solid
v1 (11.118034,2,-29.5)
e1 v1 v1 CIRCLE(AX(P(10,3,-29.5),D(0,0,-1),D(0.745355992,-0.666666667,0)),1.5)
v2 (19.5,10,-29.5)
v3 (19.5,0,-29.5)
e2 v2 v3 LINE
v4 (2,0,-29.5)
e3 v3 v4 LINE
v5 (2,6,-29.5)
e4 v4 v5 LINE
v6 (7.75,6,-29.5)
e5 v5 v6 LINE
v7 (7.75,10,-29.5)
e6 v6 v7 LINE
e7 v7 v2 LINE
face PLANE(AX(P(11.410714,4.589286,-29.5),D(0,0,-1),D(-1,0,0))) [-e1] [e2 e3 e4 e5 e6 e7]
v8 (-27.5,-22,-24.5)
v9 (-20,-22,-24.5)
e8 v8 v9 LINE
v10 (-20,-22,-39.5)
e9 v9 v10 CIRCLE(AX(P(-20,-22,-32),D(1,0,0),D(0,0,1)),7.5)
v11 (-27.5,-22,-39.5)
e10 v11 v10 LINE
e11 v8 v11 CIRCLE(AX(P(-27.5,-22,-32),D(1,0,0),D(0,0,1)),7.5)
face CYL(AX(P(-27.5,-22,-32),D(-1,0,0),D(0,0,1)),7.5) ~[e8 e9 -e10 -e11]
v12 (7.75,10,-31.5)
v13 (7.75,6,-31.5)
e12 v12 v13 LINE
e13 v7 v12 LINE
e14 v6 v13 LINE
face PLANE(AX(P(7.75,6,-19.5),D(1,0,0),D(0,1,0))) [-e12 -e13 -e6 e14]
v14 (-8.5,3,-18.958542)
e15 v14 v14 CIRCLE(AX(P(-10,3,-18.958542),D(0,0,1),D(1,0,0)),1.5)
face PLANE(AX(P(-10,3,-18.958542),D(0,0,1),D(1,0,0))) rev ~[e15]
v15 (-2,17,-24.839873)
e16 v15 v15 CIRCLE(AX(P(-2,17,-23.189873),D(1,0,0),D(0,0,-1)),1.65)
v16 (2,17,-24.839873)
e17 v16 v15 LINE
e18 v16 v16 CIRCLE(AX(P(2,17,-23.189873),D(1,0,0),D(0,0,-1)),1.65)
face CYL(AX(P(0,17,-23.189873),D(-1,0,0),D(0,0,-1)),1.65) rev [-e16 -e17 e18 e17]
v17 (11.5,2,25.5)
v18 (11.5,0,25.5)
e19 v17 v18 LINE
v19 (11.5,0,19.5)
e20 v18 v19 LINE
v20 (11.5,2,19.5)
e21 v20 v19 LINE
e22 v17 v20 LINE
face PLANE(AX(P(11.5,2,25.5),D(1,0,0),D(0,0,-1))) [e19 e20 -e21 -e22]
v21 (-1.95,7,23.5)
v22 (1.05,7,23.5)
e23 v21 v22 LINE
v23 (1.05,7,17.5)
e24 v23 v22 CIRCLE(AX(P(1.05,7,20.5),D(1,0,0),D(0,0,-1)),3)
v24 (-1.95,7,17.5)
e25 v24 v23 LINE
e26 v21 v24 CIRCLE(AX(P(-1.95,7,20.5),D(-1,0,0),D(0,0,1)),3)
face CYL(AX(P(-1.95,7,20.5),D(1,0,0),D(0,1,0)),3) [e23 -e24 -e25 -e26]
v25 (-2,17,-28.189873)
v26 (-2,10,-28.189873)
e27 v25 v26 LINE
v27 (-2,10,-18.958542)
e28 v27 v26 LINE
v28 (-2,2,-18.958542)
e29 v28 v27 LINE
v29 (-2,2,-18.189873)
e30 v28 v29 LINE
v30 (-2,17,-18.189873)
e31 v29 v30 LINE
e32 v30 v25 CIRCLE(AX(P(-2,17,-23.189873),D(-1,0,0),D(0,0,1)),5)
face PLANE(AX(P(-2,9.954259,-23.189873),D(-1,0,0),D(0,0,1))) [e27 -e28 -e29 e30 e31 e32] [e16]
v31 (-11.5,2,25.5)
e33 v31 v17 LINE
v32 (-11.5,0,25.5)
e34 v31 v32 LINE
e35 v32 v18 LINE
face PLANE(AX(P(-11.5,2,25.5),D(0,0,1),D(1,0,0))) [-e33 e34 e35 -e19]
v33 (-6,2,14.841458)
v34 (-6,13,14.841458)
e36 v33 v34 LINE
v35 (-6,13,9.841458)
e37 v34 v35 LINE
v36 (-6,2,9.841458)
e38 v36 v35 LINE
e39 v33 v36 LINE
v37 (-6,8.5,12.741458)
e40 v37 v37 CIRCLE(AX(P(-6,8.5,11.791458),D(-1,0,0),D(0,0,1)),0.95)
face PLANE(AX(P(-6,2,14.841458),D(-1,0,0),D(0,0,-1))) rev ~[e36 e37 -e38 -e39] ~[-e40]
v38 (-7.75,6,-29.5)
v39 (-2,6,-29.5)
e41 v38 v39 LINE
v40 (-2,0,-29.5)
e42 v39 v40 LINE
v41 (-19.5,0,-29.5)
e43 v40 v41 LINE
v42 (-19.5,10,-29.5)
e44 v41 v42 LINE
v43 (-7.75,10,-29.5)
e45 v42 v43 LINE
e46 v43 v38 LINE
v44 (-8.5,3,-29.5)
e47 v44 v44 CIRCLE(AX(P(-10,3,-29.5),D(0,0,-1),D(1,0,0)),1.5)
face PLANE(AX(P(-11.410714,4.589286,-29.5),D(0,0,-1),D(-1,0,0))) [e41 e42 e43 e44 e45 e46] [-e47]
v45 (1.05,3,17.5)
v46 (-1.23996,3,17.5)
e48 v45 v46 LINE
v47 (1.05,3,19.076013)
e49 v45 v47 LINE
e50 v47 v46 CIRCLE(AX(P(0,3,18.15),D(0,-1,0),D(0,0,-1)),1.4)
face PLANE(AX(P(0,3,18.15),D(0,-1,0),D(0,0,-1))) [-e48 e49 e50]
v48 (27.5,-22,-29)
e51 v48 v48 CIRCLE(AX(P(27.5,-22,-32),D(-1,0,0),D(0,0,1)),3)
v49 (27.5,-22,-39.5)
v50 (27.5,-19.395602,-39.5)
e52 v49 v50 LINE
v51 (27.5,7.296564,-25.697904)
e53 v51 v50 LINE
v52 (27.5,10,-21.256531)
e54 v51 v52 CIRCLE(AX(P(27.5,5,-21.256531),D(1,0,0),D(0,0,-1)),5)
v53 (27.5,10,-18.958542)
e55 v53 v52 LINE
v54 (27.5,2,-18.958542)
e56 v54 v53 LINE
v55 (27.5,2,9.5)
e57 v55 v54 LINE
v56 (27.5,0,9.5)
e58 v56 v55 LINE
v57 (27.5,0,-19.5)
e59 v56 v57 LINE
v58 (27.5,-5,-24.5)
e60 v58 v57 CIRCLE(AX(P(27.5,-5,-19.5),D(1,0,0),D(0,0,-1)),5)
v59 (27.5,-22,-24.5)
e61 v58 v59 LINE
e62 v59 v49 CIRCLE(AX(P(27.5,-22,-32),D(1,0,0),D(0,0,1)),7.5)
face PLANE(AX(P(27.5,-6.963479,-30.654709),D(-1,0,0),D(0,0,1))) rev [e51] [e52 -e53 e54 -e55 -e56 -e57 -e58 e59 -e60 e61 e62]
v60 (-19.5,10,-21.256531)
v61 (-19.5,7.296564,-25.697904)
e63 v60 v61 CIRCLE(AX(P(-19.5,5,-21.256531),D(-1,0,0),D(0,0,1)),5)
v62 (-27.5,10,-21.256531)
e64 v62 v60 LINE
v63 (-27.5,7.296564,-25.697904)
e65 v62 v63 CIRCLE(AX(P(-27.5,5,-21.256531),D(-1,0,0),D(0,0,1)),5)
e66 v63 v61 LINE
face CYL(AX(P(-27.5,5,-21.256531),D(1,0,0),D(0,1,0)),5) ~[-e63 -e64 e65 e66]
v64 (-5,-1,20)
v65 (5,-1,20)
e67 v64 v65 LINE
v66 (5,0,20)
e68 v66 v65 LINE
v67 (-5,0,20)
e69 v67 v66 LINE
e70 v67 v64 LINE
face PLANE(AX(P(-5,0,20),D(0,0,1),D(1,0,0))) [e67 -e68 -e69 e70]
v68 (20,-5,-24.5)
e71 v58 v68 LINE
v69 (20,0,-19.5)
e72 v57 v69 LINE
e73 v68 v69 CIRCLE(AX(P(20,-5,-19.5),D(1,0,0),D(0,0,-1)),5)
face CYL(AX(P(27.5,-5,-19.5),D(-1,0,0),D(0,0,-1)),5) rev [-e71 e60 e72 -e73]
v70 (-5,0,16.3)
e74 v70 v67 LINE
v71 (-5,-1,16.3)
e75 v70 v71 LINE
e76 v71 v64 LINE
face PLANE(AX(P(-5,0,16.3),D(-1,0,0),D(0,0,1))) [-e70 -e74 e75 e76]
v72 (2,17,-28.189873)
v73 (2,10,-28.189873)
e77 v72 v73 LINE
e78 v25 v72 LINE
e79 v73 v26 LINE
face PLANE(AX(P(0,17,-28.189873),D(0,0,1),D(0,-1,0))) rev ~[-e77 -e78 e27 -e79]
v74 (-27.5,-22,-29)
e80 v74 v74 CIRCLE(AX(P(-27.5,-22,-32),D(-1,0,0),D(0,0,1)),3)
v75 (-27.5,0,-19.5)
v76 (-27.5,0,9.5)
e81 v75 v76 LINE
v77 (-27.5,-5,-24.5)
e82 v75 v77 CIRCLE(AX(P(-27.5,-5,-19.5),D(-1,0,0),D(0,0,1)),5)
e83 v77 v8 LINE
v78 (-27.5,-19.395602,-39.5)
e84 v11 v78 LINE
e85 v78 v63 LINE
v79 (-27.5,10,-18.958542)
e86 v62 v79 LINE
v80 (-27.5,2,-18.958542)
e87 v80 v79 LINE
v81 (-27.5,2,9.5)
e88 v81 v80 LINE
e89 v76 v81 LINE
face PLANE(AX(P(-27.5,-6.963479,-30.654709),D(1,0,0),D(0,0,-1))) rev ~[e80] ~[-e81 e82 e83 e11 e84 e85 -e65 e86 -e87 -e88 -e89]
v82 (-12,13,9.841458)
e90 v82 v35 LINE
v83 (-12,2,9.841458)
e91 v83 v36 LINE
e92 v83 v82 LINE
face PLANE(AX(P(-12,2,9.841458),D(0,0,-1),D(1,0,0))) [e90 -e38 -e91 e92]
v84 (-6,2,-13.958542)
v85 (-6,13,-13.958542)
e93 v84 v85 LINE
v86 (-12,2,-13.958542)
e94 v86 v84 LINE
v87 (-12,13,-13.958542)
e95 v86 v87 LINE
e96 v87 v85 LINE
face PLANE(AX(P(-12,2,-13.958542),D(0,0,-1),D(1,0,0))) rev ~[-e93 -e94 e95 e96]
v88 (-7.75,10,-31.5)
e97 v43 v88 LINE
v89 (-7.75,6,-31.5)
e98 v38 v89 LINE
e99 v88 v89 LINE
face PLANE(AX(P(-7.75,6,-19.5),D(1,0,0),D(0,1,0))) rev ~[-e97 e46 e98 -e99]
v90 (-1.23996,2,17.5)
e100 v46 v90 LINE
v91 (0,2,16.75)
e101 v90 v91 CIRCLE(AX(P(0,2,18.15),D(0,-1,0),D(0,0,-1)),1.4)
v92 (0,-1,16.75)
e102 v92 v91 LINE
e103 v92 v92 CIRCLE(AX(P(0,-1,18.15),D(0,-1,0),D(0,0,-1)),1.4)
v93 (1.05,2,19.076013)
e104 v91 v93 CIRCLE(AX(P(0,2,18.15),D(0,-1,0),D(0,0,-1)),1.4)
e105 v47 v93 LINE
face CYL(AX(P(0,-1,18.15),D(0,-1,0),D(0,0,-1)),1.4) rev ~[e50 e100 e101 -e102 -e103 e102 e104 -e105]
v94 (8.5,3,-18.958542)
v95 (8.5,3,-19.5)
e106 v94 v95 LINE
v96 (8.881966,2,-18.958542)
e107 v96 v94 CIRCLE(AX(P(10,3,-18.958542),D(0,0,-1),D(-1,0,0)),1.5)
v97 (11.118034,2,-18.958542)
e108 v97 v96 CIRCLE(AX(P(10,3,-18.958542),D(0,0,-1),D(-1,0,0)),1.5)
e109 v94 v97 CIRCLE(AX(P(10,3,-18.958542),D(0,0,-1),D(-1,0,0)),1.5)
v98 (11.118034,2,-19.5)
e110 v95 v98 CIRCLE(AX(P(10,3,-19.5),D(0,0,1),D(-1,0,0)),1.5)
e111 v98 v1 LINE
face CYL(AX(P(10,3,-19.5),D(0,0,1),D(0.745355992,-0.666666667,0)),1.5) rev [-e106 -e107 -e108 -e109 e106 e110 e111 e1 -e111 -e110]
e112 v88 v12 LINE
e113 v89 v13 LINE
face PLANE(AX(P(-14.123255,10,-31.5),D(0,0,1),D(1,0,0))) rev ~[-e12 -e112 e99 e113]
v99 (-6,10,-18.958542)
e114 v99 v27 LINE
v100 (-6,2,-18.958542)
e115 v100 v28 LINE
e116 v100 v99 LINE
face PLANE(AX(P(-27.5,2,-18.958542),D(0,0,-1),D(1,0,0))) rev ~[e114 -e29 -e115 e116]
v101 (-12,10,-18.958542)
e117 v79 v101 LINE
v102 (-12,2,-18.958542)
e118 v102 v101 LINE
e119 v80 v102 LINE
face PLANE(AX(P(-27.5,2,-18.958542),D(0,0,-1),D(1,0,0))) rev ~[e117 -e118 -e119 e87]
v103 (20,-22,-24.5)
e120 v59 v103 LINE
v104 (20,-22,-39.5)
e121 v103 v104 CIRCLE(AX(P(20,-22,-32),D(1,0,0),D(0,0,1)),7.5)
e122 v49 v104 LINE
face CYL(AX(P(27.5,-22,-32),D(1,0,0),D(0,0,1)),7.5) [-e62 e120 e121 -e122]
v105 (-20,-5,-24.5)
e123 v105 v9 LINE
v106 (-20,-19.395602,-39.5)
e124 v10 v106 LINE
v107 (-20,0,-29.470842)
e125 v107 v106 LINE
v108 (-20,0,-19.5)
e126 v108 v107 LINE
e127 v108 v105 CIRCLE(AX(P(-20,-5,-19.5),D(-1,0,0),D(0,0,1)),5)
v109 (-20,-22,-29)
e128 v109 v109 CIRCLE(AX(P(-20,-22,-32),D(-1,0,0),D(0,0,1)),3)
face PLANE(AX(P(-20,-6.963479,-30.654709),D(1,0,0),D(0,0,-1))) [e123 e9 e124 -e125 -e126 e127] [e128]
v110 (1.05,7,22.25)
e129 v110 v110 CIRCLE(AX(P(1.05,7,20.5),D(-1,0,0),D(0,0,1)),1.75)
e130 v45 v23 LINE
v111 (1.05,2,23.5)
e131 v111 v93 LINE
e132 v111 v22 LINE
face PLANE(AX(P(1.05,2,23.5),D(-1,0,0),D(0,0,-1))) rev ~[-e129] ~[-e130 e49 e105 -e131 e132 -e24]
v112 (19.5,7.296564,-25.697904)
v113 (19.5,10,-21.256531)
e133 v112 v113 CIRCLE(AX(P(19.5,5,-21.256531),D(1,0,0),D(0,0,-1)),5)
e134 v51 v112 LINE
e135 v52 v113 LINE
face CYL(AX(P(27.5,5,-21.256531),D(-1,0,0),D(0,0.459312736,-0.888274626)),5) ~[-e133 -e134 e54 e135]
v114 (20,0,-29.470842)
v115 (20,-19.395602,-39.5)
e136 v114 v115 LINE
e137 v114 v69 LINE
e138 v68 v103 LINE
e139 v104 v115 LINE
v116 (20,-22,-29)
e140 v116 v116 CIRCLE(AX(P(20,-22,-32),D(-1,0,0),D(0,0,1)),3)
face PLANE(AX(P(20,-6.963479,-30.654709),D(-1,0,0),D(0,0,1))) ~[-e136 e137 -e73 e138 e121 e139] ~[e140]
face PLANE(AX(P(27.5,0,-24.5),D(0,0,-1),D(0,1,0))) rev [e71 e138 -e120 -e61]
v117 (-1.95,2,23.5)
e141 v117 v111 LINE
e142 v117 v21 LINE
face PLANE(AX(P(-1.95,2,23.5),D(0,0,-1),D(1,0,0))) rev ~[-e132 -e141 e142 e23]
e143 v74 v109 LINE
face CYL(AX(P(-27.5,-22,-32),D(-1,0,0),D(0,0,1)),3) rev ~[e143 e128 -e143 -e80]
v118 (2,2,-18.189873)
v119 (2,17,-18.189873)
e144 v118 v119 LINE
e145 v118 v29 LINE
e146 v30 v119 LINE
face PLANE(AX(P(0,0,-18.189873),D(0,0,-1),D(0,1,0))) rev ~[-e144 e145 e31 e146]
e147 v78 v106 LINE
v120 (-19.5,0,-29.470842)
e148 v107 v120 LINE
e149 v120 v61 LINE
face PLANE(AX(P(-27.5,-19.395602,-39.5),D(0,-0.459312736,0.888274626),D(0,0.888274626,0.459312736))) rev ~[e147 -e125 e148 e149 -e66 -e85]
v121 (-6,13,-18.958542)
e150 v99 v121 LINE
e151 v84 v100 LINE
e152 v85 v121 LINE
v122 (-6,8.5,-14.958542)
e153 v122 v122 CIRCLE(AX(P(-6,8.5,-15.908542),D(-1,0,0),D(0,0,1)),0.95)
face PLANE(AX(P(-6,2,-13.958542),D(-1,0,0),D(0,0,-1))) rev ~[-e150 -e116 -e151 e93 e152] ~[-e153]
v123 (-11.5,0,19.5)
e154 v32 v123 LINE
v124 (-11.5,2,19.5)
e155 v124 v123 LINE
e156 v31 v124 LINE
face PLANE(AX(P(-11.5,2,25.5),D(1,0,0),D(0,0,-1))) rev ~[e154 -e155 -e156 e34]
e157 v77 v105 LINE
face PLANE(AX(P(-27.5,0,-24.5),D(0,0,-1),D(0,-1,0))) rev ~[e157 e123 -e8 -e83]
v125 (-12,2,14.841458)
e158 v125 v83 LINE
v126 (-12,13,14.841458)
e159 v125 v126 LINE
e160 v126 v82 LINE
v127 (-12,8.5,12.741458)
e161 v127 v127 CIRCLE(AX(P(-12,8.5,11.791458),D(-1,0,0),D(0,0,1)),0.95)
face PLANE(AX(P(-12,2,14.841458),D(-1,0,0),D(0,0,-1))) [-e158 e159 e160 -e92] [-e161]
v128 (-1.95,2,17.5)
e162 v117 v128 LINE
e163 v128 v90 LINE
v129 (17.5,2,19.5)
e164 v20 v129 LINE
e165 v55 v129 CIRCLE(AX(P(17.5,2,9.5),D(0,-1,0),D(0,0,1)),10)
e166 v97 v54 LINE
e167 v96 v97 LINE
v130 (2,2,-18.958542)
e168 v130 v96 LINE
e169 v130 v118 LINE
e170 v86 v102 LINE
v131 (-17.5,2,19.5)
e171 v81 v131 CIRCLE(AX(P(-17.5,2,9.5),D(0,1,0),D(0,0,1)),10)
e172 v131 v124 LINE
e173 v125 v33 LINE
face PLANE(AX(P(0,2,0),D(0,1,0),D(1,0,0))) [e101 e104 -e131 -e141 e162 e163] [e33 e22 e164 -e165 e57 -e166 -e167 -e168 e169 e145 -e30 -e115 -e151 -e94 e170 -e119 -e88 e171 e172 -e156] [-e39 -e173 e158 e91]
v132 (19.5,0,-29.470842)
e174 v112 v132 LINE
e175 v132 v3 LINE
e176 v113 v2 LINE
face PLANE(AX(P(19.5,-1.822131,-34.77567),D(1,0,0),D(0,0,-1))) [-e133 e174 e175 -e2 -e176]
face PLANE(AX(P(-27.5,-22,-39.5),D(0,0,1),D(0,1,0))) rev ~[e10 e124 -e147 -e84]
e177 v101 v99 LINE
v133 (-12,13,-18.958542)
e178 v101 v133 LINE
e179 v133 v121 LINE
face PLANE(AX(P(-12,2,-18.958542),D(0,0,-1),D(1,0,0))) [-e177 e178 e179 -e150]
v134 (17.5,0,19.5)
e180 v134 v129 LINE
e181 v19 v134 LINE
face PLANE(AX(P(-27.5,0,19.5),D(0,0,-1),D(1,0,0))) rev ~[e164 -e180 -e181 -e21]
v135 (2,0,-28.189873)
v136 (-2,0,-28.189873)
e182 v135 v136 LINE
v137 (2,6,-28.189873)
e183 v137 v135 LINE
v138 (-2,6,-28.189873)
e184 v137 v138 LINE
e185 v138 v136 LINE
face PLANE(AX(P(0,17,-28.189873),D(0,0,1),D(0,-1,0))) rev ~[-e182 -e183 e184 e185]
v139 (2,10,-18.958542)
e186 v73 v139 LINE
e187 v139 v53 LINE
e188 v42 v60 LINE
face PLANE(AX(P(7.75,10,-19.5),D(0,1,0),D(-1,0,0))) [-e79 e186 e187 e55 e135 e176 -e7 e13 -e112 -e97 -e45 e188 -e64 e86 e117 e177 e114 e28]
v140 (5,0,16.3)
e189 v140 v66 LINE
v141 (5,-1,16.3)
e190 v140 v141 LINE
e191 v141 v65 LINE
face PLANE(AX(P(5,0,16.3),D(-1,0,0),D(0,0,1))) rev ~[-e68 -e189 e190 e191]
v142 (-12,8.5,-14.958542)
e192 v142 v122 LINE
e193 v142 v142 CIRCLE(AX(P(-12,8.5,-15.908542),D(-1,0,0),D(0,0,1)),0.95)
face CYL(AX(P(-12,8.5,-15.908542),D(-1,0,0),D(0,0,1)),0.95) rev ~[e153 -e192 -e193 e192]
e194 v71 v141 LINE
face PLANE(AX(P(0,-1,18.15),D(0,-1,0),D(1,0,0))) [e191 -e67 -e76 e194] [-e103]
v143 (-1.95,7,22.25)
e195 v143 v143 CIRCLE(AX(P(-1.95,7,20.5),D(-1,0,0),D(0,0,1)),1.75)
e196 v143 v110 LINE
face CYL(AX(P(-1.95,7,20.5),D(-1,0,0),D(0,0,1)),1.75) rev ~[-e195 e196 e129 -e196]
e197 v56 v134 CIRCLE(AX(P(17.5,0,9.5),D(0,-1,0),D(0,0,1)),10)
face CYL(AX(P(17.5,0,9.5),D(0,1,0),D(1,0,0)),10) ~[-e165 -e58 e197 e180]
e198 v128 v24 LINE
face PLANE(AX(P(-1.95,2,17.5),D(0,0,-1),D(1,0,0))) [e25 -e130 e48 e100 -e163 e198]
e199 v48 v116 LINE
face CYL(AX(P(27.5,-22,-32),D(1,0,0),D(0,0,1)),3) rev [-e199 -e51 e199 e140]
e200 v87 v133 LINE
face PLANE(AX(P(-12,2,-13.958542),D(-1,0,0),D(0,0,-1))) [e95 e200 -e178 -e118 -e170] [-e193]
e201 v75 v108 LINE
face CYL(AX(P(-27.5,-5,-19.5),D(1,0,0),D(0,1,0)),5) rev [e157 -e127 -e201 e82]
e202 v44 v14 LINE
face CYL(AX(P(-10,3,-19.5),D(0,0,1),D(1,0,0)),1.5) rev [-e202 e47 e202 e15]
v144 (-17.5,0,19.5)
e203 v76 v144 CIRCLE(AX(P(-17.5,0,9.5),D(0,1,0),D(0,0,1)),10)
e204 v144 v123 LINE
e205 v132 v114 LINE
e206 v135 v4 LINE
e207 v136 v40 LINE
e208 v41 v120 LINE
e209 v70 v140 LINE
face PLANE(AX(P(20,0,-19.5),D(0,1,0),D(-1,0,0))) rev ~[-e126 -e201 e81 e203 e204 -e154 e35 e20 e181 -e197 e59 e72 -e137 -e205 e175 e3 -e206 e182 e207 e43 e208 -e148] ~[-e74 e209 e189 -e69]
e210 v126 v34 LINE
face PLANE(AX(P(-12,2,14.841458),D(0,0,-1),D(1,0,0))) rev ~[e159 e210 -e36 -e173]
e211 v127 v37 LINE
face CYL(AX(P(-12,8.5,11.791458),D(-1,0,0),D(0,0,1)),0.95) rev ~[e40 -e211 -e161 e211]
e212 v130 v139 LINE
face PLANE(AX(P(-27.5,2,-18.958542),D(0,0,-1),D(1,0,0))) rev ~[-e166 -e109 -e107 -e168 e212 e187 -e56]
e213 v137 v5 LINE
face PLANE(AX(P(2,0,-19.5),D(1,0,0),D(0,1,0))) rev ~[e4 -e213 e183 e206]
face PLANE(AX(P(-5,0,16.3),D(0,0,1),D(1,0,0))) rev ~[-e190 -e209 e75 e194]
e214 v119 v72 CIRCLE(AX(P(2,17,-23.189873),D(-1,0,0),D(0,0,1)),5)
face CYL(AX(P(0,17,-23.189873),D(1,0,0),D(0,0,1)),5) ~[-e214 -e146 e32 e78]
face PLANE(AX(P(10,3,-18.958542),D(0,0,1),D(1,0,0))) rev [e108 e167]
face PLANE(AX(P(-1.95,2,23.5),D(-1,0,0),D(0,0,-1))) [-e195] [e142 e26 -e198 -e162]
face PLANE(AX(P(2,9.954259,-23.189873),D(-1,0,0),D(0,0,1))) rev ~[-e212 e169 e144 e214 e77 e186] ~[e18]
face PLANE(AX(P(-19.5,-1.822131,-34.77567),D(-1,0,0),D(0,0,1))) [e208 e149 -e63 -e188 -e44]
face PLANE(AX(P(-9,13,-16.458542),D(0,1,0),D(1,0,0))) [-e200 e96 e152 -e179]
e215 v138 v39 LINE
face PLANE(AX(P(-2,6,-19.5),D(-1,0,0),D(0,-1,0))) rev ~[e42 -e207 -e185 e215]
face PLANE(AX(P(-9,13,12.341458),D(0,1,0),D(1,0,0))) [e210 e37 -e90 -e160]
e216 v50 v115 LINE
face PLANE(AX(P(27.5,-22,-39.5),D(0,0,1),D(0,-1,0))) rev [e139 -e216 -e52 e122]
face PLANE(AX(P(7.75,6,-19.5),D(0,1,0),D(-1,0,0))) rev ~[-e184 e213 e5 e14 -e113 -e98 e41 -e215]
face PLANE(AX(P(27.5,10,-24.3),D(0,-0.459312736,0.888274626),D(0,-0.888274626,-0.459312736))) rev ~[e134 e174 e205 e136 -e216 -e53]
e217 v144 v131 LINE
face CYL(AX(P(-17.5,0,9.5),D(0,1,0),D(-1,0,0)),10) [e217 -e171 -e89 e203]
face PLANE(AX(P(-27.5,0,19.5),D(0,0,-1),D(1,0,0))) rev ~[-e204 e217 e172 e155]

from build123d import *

# Parameters (mm, degrees)
SKETCH_1_W          = 55
SKETCH_1_H          = 39
EXTRUDE_1_DEPTH     = 2
SKETCH_2_W          = 23
SKETCH_2_H          = 6
EXTRUDE_2_DEPTH     = 2
SKETCH_3_W          = 6
SKETCH_3_H          = 5
EXTRUDE_3_DEPTH     = 11
SKETCH_5_R          = 0.95
CUT_EXTRUDE_1_DEPTH = 11
SKETCH_6_W          = 55
SKETCH_6_H          = 0.541458129
EXTRUDE_4_DEPTH     = 8
SKETCH_8_R          = 1.65
EXTRUDE_6_DEPTH     = 2
SKETCH_10_W         = 3
SKETCH_10_H         = 6
EXTRUDE_7_DEPTH     = 8
SKETCH_11_R         = 1.5
CUT_EXTRUDE_3_DEPTH = 13
SKETCH_12_R         = 3
EXTRUDE_8_DEPTH     = 7.5
SKETCH_13_W         = 10
SKETCH_13_H         = 3.7
EXTRUDE_9_DEPTH     = 1
FILLET_3_RADIUS     = 3
FILLET_3_LENGTH     = 3
SKETCH_15_R         = 1.75
CUT_EXTRUDE_5_DEPTH = 23
SKETCH_16_W         = 15.5
SKETCH_16_H         = 4
EXTRUDE_10_DEPTH    = 20
SKETCH_17_R         = 1.5
EXTRUDE_11_DEPTH    = 10
FILLET_4_R          = 10
SKETCH_18_W         = 26.564734734
SKETCH_18_H         = 10.454508508
CUT_EXTRUDE_6_DEPTH = 10
CUT_EXTRUDE_7_DEPTH = 8
CUT_EXTRUDE_8_DEPTH = 8
FILLET_6_R          = 5
SKETCH_21_R         = 1.4
CUT_EXTRUDE_9_DEPTH = 4
FILLET_7_R          = 10


with BuildPart() as part:
    # 草图1 → 凸台-拉伸1 (new body)
    with BuildSketch(Plane(origin=(0, 0, 0), x_dir=(1, 0, 0), z_dir=(0, 1, 0))):
        Rectangle(SKETCH_1_W, SKETCH_1_H)
    extrude(amount=EXTRUDE_1_DEPTH)

    # 草图2 → 凸台-拉伸2 (add)
    with BuildSketch(Plane(origin=(0, 2, 0), x_dir=(1, 0, 0), z_dir=(0, 1, 0))):
        with Locations((0, -22.5)):
            Rectangle(SKETCH_2_W, SKETCH_2_H)
    extrude(amount=-EXTRUDE_2_DEPTH)

    # 草图3 → 凸台-拉伸3 (add)
    with BuildSketch(Plane(origin=(0, 2, 0), x_dir=(1, 0, 0), z_dir=(0, 1, 0))):
        with Locations((-9, -12.341458129)):
            Rectangle(SKETCH_3_W, SKETCH_3_H)
        with Locations((-9, 16.458541871)):
            Rectangle(SKETCH_3_W, SKETCH_3_H)
    extrude(amount=EXTRUDE_3_DEPTH)

    # 草图5 → 切除-拉伸1 (cut)
    with BuildSketch(Plane.ZY.offset(12)):
        with Locations((-15.908541871, 8.5)):
            Circle(SKETCH_5_R)
        with Locations((11.791458129, 8.5)):
            Circle(SKETCH_5_R)
    extrude(amount=-CUT_EXTRUDE_1_DEPTH, mode=Mode.SUBTRACT)

    # 草图6 → 凸台-拉伸4 (add)
    with BuildSketch(Plane(origin=(0, 2, 0), x_dir=(1, 0, 0), z_dir=(0, 1, 0))):
        with Locations((0, 19.229270936)):
            Rectangle(SKETCH_6_W, SKETCH_6_H)
    extrude(amount=EXTRUDE_4_DEPTH)

    # 草图8 → 凸台-拉伸6 (add, symmetric)
    with BuildSketch(Plane(origin=(0, 0, 0), x_dir=(0, 0, -1), z_dir=(1, 0, 0))):
        with BuildLine():
            Line((28.189872998, 17), (28.189872998, 0))
            Line((28.189872998, 0), (18.189872998, 0))
            Line((18.189872998, 0), (18.189872998, 17))
            ThreePointArc((18.189872998, 17), (23.189872998, 22), (28.189872998, 17))
        make_face()
        with Locations((23.189872998, 17)):
            Circle(SKETCH_8_R, mode=Mode.SUBTRACT)
    extrude(amount=EXTRUDE_6_DEPTH, both=True)

    # 草图10 → 凸台-拉伸7 (add)
    with BuildSketch(Plane(origin=(0, 2, 0), x_dir=(1, 0, 0), z_dir=(0, 1, 0))):
        with Locations((-0.45, -20.5)):
            Rectangle(SKETCH_10_W, SKETCH_10_H)
    extrude(amount=EXTRUDE_7_DEPTH)

    # 草图11 → 切除-拉伸3 (cut)
    with BuildSketch(Plane.XY.offset(-18.958541871)):
        with Locations((-10, 3)):
            Circle(SKETCH_11_R)
    cut_extrude_3 = extrude(amount=-CUT_EXTRUDE_3_DEPTH, mode=Mode.SUBTRACT)

    # 草图12 → 凸台-拉伸8 (add)
    with BuildSketch(Plane.ZY.offset(27.5)):
        with BuildLine():
            Line((-39.5, -22), (-39.5, 10))
            Line((-39.5, 10), (-19.5, 10))
            Line((-19.5, 10), (-19.5, 0))
            Line((-19.5, 0), (-24.5, 0))
            Line((-24.5, 0), (-24.5, -22))
            ThreePointArc((-24.5, -22), (-32, -29.5), (-39.5, -22))
        make_face()
        with Locations((-32, -22)):
            Circle(SKETCH_12_R, mode=Mode.SUBTRACT)
    extrude_8 = extrude(amount=-EXTRUDE_8_DEPTH)

    # 草图13 → 凸台-拉伸9 (add)
    with BuildSketch(Plane.XZ):
        with Locations((0, 18.15)):
            Rectangle(SKETCH_13_W, SKETCH_13_H)
    extrude(amount=EXTRUDE_9_DEPTH)

    # 镜向1: 切除-拉伸3, 凸台-拉伸8 across plane
    add(cut_extrude_3.mirror(Plane(origin=(0, 0, 0), x_dir=(0, 0, 1), z_dir=(1, 0, 0))), mode=Mode.SUBTRACT)
    add(extrude_8.mirror(Plane(origin=(0, 0, 0), x_dir=(0, 0, 1), z_dir=(1, 0, 0))))

    # 圆角3: full round fillet: the end face becomes a half cylinder, R = half its width
    fillet_3_face = Plane((-0.45, 10, 20.5), x_dir=(1, 0, 0), z_dir=(0, 1, 0))  # on the end face: x along it, z out of the body
    fillet_3_slab = fillet_3_face.offset(-FILLET_3_RADIUS / 2) * Box(FILLET_3_LENGTH, 2 * FILLET_3_RADIUS, FILLET_3_RADIUS, mode=Mode.PRIVATE)  # the body's end, R deep
    fillet_3_round = Plane((-0.45, 7, 20.5), x_dir=(0, 1, 0), z_dir=(1, 0, 0)) * Cylinder(FILLET_3_RADIUS, FILLET_3_LENGTH, mode=Mode.PRIVATE)  # its axis R under the face
    add(fillet_3_slab - fillet_3_round, mode=Mode.SUBTRACT)

    # 草图15 → 切除-拉伸5 (cut)
    with BuildSketch(Plane.ZY.offset(1.95)):
        with Locations((20.5, 7)):
            Circle(SKETCH_15_R)
    extrude(amount=-CUT_EXTRUDE_5_DEPTH, mode=Mode.SUBTRACT)

    # 草图16 → 凸台-拉伸10 (add)
    with BuildSketch(Plane(origin=(0, 0, -19.5), x_dir=(-1, 0, 0), z_dir=(0, 0, -1))):
        with Locations((0, 8)):
            Rectangle(SKETCH_16_W, SKETCH_16_H)
    extrude(amount=EXTRUDE_10_DEPTH)

    # 草图17 → 凸台-拉伸11 (add)
    # profile 1 of 2: a face of its own
    with BuildSketch(Plane(origin=(0, 0, -19.5), x_dir=(-1, 0, 0), z_dir=(0, 0, -1))):
        Polygon((-20, 0), (-2, 0), (-2, 6), (-7.75, 6), (-7.75, 10), (-20, 10), align=None)
        with Locations(Location((-10, 3, 0), (0, 0, 221.810314896))):
            Circle(SKETCH_17_R, mode=Mode.SUBTRACT)
    # profile 2 of 2: a face of its own
    with BuildSketch(Plane(origin=(0, 0, -19.5), x_dir=(-1, 0, 0), z_dir=(0, 0, -1))):
        Polygon((7.75, 6), (2, 6), (2, 0), (20, 0), (20, 10), (7.75, 10), align=None)
        with Locations(Location((10, 3, 0), (0, 0, 180))):
            Circle(SKETCH_17_R, mode=Mode.SUBTRACT)
    extrude(amount=EXTRUDE_11_DEPTH)

    # 圆角4
    fillet_4_edges = [part.edges().sort_by_distance(p)[0] for p in [
        (23.75, 10, -39.5),
        (-23.75, 10, -39.5),
    ]]
    fillet(fillet_4_edges, radius=FILLET_4_R)

    # 草图18 → 切除-拉伸6 (cut)
    with BuildSketch(Plane(origin=(0, 10, 0), x_dir=(1, 0, 0), z_dir=(0, 1, 0))):
        with Locations((-0.840887807, 36.727254254)):
            Rectangle(SKETCH_18_W, SKETCH_18_H)
    extrude(amount=-CUT_EXTRUDE_6_DEPTH, mode=Mode.SUBTRACT)

    # 草图19 → 切除-拉伸7 (cut)
    with BuildSketch(Plane(origin=(27.5, 0, 0), x_dir=(0, 0, -1), z_dir=(1, 0, 0))):
        Polygon((24.3, 10), (39.5, -19.395601839), (39.5, 10), align=None)
    extrude(amount=-CUT_EXTRUDE_7_DEPTH, mode=Mode.SUBTRACT)

    # 草图20 → 切除-拉伸8 (cut)
    with BuildSketch(Plane.ZY.offset(27.5)):
        Polygon((-24.3, 10), (-39.5, 10), (-39.5, -19.395601839), align=None)
    extrude(amount=-CUT_EXTRUDE_8_DEPTH, mode=Mode.SUBTRACT)

    # 圆角6
    fillet_6_edges = [part.edges().sort_by_distance(p)[0] for p in [
        (-23.75, 0, -24.5),
        (23.75, 0, -24.5),
        (23.5, 10, -24.3),
        (-23.5, 10, -24.3),
    ]]
    fillet(fillet_6_edges, radius=FILLET_6_R)

    # 草图21 → 切除-拉伸9 (cut)
    with BuildSketch(Plane.XZ.offset(1)):
        with Locations(Location((0, 18.15, 0), (0, 0, 270))):
            Circle(SKETCH_21_R)
    extrude(amount=-CUT_EXTRUDE_9_DEPTH, mode=Mode.SUBTRACT)

    # 圆角7
    fillet_7_edges = [part.edges().sort_by_distance(p)[0] for p in [
        (27.5, 1, 19.5),
        (-27.5, 1, 19.5),
    ]]
    fillet(fillet_7_edges, radius=FILLET_7_R)


solid = part.part
